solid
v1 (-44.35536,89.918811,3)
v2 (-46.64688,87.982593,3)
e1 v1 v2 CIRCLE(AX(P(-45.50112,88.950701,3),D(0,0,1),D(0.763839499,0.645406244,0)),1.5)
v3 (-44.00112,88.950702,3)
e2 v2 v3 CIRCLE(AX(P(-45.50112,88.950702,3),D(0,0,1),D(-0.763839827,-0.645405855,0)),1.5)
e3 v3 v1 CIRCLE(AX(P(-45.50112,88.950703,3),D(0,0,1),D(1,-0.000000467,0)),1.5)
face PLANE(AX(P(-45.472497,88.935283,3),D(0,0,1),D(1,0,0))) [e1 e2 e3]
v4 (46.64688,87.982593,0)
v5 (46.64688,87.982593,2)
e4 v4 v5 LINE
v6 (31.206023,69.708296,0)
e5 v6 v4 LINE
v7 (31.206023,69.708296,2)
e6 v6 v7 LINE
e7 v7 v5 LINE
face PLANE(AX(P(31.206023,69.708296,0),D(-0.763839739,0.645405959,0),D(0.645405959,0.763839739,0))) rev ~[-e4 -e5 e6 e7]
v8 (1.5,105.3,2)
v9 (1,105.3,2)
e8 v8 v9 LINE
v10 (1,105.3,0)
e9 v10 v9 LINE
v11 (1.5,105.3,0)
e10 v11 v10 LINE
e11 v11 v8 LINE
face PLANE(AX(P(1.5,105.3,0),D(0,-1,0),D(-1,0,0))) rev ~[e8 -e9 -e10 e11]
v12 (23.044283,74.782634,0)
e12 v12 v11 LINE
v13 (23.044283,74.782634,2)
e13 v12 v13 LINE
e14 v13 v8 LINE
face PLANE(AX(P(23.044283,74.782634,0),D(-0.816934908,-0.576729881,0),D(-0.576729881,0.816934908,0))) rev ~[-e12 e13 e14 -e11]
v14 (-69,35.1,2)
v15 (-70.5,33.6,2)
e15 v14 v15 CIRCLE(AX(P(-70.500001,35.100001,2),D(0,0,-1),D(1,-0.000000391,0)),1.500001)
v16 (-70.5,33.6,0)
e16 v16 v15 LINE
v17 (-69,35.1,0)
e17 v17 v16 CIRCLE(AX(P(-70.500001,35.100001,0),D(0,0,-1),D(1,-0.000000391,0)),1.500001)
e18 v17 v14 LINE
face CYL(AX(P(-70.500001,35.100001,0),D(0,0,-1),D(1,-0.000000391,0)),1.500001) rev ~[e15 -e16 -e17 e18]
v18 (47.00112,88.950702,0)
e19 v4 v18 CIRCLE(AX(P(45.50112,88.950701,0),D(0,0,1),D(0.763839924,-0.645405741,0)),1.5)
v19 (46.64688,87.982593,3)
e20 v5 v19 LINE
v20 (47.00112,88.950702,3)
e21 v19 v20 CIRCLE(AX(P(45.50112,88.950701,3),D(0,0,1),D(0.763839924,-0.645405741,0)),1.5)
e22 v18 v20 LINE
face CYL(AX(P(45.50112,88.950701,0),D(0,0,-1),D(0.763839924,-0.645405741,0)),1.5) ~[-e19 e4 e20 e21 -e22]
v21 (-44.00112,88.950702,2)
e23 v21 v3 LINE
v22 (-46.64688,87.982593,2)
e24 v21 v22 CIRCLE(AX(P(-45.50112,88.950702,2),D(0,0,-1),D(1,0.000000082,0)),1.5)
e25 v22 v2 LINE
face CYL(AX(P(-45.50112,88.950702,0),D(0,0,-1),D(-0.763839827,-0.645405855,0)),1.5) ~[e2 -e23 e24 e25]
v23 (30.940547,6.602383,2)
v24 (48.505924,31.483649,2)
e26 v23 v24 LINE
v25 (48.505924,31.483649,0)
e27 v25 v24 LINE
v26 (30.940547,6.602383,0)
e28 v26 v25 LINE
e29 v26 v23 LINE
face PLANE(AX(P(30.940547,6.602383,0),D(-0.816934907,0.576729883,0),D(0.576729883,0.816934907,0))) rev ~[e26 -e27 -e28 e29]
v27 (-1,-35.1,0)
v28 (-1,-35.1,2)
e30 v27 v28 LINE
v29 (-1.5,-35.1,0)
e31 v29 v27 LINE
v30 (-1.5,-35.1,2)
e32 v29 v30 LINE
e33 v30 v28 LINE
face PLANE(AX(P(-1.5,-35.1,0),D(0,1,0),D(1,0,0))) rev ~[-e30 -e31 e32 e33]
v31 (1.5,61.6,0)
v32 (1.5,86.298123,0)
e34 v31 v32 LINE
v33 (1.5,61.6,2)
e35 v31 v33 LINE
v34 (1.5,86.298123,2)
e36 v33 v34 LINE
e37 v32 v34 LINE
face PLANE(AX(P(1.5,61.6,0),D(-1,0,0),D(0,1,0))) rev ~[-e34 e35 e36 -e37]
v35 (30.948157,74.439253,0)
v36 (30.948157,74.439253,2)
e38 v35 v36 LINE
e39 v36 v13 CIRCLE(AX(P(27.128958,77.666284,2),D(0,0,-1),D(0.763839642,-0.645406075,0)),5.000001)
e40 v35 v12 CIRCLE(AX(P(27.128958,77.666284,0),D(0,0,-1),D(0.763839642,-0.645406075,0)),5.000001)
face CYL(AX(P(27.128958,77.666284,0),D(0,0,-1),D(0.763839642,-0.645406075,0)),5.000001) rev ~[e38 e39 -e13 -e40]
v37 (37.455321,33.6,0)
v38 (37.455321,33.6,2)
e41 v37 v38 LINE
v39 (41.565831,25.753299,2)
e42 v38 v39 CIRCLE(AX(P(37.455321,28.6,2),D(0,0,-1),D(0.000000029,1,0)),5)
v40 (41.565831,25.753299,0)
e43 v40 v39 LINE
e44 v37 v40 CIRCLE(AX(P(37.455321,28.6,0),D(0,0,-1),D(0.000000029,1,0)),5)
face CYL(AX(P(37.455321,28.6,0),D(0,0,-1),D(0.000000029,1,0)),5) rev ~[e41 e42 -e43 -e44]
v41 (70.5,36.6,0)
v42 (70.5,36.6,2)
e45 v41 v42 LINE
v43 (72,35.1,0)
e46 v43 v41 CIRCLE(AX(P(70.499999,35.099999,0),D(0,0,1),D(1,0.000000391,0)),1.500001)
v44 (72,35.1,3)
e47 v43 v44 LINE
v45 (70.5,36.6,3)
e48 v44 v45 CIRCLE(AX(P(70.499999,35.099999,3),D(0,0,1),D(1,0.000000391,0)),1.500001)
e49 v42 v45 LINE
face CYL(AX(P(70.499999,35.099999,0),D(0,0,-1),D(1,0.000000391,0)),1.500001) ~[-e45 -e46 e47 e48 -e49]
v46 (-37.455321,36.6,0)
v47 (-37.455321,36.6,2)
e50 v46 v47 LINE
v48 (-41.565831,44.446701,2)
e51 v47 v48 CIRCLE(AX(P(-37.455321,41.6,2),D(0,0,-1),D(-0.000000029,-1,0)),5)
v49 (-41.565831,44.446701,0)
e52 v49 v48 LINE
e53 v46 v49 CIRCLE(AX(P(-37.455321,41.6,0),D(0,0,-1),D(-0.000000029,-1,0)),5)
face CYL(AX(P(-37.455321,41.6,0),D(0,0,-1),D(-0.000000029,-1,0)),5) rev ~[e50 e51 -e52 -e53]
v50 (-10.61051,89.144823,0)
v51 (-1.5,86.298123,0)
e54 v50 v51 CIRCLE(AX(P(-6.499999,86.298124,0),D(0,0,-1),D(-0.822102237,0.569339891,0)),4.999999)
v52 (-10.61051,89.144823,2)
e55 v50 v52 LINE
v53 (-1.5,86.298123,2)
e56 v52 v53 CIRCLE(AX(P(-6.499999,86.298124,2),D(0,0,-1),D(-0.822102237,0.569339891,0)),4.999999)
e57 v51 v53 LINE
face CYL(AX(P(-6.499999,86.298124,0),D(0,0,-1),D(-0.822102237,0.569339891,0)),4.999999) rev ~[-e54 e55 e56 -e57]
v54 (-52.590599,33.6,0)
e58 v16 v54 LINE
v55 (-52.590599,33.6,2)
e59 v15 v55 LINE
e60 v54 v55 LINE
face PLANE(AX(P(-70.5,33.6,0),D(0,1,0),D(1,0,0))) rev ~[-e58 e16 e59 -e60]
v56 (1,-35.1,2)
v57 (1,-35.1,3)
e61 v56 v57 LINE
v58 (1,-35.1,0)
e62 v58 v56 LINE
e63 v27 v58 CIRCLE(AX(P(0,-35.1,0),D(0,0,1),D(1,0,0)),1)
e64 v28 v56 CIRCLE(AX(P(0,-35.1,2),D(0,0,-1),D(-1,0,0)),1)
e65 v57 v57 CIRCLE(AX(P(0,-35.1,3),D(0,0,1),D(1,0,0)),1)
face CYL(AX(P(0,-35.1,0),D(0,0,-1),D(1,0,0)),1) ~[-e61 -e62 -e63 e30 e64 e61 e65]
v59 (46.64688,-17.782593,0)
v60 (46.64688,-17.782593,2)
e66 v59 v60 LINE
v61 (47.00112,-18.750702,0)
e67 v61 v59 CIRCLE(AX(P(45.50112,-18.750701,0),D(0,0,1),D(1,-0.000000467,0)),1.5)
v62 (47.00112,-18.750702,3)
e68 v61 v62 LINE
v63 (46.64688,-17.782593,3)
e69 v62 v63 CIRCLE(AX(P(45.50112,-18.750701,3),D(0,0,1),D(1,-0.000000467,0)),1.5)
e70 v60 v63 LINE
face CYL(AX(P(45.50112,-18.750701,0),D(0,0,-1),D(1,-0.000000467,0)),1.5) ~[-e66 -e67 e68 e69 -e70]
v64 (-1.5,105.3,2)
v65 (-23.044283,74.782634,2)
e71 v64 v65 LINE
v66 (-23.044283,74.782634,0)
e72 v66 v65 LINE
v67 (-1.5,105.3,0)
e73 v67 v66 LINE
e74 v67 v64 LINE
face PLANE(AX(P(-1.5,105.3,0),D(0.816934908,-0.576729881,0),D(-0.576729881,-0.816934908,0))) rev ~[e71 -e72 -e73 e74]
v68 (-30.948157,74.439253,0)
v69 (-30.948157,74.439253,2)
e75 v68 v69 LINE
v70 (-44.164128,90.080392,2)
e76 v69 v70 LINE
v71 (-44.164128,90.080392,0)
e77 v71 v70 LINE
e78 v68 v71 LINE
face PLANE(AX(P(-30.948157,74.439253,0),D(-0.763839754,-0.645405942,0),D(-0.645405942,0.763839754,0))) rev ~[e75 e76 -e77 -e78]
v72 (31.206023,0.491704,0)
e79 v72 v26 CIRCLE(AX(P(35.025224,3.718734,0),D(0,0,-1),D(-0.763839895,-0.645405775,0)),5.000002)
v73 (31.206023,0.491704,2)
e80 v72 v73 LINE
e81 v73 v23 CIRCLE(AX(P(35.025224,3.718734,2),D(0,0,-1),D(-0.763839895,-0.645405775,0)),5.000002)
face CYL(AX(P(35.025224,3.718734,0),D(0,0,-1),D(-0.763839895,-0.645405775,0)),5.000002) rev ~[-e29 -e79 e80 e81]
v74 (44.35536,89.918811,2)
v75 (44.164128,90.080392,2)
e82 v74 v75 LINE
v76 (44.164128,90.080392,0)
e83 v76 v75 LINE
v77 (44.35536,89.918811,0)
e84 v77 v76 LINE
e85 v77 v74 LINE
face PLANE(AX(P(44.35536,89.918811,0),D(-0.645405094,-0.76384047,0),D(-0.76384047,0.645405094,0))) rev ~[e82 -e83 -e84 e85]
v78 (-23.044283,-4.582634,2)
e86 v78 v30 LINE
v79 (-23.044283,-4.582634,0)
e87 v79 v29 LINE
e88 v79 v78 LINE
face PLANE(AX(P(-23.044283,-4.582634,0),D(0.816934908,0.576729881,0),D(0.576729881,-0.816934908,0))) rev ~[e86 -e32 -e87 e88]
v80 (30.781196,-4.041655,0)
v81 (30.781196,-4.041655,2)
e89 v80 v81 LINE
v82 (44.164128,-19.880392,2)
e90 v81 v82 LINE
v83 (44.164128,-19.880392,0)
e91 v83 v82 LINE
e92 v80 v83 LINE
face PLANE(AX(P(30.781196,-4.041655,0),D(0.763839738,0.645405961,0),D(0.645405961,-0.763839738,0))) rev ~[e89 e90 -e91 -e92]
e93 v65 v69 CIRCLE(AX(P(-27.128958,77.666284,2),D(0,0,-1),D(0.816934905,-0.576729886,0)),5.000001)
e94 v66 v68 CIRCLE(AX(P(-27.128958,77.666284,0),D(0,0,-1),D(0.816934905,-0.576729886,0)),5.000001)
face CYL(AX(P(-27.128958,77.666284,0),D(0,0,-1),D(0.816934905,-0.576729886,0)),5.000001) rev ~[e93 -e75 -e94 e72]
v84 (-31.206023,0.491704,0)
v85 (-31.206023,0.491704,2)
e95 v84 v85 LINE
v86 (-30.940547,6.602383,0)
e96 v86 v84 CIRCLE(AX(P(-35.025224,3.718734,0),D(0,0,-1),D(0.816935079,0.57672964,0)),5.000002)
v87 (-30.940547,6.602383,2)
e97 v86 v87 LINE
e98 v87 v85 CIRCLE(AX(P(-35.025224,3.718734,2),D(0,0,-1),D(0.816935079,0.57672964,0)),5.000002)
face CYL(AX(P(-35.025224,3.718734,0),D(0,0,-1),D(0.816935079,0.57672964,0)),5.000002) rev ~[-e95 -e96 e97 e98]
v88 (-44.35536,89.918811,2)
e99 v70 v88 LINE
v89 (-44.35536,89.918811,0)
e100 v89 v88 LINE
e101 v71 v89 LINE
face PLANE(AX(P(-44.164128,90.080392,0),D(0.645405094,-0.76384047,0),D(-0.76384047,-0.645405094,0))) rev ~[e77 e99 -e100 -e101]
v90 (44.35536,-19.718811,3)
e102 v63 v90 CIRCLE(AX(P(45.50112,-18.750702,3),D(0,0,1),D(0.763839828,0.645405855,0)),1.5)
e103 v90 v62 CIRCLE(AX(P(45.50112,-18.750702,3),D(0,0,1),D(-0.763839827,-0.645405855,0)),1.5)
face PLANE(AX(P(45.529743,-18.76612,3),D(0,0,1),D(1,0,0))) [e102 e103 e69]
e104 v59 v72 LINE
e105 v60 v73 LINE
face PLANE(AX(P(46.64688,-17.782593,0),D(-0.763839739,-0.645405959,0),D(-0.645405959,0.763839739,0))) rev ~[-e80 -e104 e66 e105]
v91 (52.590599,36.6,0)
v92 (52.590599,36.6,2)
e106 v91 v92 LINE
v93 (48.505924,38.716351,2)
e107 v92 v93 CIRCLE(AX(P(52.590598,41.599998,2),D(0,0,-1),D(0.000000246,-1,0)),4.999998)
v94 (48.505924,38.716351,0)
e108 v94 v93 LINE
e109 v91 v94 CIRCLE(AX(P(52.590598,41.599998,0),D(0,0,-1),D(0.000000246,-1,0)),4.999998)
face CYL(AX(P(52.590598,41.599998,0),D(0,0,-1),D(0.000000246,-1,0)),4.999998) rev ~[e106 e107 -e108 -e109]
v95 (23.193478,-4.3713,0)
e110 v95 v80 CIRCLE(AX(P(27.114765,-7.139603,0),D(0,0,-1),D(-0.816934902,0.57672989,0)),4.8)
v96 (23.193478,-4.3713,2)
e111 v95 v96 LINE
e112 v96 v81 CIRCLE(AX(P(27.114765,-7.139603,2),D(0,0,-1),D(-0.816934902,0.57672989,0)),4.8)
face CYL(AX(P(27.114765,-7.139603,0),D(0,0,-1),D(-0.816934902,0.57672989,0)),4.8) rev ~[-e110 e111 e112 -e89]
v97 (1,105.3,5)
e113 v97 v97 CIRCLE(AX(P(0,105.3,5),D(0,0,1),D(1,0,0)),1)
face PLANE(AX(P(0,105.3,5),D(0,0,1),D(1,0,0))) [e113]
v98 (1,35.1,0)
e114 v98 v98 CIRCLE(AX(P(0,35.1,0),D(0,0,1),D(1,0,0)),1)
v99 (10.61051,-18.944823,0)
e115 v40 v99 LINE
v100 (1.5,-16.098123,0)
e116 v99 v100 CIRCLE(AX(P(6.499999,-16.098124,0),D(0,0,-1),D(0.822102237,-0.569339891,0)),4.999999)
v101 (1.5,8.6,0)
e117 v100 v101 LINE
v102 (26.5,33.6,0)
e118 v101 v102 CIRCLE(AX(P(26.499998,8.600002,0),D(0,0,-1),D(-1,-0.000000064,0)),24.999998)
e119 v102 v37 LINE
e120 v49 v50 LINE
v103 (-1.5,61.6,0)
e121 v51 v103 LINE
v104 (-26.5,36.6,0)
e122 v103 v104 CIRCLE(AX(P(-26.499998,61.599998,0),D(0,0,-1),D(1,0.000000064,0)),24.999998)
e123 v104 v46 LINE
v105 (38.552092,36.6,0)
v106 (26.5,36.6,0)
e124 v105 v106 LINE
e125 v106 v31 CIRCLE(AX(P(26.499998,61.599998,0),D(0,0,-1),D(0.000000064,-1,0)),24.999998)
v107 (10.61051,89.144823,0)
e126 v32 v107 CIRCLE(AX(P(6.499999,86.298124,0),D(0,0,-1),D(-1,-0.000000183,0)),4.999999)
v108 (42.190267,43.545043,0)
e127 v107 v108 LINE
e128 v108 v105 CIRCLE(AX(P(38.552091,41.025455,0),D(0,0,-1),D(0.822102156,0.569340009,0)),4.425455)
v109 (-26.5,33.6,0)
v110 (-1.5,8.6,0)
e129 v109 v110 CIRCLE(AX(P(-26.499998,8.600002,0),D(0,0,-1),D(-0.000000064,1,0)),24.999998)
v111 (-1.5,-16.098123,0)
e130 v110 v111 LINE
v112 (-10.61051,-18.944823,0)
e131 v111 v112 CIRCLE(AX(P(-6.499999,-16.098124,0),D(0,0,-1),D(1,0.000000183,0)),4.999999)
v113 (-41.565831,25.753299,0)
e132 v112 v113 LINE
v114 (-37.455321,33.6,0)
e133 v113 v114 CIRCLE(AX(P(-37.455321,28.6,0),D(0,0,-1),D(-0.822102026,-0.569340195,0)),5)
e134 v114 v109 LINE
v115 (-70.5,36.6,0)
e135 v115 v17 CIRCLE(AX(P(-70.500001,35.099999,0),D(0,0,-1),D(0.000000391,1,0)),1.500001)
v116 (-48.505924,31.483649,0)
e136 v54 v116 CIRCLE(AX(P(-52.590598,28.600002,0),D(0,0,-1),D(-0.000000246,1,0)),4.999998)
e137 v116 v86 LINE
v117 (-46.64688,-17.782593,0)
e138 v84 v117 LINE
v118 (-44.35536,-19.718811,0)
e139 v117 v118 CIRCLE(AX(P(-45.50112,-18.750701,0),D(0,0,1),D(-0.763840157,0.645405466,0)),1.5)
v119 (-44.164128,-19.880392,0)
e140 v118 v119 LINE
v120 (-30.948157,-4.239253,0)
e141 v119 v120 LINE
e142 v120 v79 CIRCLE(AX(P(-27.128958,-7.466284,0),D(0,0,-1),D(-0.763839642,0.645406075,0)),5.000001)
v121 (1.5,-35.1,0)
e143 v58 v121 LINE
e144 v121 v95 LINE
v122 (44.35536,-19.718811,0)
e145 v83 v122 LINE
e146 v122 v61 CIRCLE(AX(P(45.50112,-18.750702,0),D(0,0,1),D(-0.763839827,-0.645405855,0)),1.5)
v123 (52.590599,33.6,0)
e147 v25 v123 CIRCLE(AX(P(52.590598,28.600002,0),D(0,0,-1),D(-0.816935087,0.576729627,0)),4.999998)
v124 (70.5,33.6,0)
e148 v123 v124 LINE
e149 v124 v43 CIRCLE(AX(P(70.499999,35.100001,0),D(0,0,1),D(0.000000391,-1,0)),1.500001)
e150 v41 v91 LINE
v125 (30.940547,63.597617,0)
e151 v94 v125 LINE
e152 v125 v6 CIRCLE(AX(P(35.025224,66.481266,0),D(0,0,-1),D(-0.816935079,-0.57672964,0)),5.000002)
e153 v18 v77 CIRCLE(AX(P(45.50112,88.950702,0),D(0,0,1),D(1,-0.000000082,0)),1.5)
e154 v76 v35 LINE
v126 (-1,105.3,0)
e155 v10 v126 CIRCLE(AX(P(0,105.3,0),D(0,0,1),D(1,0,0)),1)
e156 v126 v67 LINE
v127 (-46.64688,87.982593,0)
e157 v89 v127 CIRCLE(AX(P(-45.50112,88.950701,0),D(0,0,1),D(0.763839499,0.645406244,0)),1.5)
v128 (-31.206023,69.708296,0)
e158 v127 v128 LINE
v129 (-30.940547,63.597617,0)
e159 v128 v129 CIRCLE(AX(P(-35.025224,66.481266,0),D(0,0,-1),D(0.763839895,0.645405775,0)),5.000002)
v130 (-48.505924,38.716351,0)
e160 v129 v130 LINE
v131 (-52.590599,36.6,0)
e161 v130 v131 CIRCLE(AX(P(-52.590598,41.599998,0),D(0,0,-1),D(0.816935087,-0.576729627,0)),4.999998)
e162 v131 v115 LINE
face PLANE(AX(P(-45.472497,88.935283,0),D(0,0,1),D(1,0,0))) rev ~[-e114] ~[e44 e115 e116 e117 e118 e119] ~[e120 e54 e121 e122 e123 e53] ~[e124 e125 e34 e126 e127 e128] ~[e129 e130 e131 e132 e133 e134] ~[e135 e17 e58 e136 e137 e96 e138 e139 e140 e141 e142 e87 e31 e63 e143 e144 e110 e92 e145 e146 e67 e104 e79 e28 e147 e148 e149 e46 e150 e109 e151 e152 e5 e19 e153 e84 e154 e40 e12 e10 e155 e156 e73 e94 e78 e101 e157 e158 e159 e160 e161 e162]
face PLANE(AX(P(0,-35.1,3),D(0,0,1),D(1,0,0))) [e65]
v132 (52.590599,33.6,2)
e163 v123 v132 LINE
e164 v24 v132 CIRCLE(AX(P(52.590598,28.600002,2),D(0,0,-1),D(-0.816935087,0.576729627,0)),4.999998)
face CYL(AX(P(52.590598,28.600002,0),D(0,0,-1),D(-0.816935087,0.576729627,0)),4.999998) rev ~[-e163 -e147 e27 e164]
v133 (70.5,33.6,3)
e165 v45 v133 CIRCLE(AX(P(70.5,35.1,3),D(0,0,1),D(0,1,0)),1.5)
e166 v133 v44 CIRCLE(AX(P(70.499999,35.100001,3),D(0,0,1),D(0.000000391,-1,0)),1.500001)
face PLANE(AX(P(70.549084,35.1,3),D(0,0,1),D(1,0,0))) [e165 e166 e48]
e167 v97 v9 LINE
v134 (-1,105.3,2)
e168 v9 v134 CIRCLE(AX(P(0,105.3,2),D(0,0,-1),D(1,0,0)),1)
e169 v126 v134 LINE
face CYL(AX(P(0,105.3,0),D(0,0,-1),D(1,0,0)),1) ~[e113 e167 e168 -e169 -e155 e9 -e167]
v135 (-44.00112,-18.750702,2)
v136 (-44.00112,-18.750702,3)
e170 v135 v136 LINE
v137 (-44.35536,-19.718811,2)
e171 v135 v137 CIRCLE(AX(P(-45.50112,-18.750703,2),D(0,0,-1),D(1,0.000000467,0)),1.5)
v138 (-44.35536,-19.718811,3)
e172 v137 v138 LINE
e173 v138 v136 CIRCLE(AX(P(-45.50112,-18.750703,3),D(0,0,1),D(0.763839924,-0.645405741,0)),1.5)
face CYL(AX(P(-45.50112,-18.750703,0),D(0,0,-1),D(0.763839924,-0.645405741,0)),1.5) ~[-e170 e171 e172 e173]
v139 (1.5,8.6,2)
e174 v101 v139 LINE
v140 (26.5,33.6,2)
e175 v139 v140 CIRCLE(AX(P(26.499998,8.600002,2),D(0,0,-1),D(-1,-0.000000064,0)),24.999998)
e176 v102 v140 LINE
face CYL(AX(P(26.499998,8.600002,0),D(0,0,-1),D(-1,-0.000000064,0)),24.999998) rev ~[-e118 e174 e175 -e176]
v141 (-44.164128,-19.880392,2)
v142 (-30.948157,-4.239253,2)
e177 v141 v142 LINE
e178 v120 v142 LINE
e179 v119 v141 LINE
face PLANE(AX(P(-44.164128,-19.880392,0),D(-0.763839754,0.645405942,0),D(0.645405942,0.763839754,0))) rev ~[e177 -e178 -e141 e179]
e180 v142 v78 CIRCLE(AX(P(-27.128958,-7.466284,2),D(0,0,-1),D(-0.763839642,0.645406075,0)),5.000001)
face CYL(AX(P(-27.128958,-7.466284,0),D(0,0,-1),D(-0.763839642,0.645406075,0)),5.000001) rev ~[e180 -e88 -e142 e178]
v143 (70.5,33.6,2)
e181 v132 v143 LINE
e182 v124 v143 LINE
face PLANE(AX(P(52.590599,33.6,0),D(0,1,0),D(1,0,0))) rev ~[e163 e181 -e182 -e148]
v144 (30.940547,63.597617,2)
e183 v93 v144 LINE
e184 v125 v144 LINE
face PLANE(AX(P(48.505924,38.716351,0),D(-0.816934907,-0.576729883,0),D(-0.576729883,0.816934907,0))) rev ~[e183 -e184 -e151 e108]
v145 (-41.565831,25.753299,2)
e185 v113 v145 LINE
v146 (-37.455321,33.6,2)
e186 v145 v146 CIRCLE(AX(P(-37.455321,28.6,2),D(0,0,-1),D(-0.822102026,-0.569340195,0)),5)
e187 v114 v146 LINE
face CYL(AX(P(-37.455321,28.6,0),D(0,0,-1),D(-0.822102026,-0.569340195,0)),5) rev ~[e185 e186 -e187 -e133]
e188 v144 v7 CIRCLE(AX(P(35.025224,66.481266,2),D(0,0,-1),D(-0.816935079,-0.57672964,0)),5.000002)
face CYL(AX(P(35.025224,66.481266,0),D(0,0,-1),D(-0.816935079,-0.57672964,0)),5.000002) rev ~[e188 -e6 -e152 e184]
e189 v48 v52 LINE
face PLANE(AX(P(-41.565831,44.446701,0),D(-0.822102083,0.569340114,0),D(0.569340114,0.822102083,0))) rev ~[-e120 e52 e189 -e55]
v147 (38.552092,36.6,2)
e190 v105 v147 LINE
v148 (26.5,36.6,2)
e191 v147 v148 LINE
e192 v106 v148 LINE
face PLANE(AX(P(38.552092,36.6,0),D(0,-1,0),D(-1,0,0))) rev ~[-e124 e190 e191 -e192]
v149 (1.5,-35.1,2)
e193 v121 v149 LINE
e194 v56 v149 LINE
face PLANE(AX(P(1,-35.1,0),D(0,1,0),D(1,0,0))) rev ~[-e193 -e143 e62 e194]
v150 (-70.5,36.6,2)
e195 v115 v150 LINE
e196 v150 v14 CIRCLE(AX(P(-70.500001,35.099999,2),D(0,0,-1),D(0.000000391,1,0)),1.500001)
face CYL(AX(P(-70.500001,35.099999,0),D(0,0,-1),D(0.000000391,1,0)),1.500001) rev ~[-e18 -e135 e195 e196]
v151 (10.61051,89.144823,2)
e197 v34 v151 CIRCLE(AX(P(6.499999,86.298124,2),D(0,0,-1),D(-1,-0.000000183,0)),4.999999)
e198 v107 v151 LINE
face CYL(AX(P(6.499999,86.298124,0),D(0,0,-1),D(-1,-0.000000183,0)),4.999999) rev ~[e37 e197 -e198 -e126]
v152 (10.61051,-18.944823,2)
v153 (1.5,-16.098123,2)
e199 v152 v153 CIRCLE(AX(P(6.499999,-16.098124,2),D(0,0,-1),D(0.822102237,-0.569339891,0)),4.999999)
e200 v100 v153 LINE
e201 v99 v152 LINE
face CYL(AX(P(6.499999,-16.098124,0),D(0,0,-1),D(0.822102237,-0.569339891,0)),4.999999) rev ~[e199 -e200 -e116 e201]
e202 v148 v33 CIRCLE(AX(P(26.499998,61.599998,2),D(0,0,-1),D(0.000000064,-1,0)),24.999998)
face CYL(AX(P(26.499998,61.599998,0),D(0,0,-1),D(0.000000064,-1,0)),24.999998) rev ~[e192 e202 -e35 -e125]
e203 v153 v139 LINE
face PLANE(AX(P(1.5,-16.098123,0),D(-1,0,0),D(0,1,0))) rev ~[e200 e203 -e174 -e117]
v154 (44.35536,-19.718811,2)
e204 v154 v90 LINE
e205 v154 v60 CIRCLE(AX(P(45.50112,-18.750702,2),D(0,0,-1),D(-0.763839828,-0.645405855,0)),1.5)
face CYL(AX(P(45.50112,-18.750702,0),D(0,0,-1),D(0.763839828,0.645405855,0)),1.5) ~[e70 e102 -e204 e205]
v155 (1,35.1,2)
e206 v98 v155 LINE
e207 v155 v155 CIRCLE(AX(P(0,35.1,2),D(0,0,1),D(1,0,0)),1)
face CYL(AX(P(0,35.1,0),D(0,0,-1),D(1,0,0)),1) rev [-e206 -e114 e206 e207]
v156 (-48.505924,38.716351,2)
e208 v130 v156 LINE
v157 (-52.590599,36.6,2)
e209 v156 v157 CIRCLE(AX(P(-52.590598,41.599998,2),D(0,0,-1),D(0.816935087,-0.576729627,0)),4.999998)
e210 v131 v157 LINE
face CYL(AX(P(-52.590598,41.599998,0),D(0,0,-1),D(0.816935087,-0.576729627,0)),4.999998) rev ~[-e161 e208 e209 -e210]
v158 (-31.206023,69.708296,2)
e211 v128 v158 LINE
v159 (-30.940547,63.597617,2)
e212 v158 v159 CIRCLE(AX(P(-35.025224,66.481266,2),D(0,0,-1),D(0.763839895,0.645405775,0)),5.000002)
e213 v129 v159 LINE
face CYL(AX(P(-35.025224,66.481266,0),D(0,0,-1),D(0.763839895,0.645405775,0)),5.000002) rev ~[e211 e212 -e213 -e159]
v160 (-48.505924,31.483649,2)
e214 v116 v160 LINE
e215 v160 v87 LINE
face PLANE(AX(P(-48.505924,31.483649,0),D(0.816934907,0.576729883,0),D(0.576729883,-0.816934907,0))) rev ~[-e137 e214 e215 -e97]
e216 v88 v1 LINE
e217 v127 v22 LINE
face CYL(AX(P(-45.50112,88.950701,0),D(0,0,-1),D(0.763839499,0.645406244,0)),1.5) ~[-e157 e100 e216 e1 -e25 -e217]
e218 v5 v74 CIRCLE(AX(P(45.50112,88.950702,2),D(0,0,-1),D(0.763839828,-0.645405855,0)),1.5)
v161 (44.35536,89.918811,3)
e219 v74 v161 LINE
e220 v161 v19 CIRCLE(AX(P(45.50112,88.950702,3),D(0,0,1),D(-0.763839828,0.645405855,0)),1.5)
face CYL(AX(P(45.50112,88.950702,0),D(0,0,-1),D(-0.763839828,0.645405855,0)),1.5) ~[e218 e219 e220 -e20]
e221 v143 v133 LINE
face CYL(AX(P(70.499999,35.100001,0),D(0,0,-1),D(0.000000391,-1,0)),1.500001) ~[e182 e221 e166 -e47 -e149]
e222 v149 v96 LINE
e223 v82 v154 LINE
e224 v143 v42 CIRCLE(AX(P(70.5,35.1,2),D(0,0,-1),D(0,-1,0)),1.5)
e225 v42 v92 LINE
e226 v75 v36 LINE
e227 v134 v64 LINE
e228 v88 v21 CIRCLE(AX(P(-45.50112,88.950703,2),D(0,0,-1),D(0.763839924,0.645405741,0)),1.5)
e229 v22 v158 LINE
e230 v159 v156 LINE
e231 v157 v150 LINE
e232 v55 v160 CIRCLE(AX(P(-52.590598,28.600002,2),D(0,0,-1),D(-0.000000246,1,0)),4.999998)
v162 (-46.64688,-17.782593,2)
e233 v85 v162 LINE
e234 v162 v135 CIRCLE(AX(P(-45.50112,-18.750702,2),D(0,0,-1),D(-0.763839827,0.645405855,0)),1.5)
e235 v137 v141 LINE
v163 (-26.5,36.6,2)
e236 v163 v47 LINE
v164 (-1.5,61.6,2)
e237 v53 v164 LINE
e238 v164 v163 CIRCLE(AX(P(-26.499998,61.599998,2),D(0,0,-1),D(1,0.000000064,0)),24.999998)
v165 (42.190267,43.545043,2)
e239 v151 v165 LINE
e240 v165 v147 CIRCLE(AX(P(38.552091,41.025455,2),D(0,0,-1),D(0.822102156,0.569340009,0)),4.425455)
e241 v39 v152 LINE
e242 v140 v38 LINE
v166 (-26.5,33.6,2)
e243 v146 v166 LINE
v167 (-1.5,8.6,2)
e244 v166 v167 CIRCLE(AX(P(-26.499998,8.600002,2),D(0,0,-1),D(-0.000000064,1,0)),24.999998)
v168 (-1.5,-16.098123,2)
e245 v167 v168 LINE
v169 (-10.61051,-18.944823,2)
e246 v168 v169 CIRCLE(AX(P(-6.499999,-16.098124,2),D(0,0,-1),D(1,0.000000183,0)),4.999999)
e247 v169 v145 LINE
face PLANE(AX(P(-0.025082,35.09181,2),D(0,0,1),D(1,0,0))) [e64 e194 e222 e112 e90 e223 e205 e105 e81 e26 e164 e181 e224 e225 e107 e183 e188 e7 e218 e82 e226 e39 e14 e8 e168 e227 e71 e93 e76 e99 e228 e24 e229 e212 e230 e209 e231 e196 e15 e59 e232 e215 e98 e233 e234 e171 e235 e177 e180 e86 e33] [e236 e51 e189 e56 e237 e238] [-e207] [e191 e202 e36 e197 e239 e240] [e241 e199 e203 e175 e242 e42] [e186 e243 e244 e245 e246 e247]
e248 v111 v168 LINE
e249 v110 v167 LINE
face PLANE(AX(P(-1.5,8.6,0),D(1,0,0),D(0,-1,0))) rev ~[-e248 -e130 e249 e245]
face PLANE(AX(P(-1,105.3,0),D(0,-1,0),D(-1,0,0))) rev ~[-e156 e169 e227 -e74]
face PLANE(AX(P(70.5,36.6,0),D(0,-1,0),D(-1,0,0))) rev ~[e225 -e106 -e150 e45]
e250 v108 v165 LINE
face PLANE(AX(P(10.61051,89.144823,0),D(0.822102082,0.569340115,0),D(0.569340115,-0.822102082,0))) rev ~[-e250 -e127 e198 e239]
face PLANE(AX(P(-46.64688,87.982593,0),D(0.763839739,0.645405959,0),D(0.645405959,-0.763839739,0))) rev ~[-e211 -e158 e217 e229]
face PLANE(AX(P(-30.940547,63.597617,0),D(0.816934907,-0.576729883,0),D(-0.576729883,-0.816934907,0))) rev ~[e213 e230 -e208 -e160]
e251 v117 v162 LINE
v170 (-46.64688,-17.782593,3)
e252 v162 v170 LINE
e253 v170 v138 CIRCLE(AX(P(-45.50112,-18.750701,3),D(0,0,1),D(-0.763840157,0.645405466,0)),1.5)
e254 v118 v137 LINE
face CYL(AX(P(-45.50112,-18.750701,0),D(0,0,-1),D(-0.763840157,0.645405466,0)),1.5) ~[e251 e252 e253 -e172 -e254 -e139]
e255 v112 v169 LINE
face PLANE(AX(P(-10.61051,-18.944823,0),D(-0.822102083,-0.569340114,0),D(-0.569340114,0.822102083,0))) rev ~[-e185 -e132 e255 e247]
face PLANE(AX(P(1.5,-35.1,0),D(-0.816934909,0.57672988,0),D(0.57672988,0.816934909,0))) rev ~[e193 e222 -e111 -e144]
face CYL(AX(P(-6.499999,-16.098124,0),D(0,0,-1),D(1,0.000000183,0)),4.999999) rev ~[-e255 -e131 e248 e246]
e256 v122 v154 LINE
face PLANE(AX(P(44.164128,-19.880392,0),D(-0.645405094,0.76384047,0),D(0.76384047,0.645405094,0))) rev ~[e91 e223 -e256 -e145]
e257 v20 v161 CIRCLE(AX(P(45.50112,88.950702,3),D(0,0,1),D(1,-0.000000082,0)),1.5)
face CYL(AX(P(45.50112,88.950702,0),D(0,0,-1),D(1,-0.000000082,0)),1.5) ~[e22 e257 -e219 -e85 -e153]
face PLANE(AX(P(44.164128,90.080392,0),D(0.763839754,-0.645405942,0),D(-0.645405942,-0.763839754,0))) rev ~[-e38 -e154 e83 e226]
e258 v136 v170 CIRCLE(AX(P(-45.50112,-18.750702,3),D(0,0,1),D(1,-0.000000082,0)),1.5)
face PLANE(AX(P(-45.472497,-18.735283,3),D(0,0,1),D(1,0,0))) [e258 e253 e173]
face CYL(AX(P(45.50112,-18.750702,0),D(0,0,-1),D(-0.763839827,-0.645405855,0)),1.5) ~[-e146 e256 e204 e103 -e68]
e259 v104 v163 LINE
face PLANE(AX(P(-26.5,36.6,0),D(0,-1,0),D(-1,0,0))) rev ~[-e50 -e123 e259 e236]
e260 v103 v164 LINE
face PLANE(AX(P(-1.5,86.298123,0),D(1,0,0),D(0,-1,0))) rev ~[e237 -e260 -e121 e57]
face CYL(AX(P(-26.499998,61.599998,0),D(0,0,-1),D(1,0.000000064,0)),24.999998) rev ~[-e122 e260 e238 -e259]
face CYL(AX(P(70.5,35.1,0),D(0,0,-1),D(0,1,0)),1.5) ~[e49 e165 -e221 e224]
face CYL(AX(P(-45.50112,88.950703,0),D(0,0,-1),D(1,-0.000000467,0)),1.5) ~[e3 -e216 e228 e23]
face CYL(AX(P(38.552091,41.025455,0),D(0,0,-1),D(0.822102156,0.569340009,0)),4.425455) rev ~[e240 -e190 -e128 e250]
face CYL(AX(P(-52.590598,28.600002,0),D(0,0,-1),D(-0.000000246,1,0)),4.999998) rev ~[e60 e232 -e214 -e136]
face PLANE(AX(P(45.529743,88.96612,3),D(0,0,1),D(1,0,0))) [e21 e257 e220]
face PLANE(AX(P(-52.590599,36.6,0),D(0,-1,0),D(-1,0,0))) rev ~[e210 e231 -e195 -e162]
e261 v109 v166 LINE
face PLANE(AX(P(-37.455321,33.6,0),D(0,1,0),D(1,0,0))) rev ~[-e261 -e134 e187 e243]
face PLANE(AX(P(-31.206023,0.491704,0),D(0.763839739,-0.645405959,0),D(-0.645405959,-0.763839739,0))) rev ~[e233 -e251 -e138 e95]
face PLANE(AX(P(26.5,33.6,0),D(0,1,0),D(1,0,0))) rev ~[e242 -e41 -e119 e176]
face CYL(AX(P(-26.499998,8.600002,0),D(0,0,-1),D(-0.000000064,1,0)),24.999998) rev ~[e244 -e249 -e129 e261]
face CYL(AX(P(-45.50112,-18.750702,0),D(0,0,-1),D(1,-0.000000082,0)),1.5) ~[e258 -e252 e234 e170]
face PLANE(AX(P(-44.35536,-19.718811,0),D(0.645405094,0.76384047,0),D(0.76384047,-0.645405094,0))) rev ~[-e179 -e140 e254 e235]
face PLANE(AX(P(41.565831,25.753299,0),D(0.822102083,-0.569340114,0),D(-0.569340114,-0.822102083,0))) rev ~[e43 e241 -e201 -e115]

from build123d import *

# Parameters (mm, degrees)
F0_R     = 1
F1_DEPTH = 2
F2_DEPTH = 3
F3_DEPTH = 5


with BuildPart() as f1:
    # F0 (on Top) → F1 (new body)
    with BuildSketch(Plane.XY):
        with BuildLine():
            Line((1, -35.1), (1.5, -35.1))
            Line((1.5, -35.1), (23.193478, -4.3713))
            ThreePointArc((23.193478, -4.3713), (26.906428, -2.344127), (30.781196, -4.041655))
            Line((30.781196, -4.041655), (44.164128, -19.880392))
            Line((44.164128, -19.880392), (44.35536, -19.718811))
            ThreePointArc((44.35536, -19.718811), (44.533011, -17.604942), (46.64688, -17.782593))
            Line((46.64688, -17.782593), (31.206023, 0.491704))
            ThreePointArc((31.206023, 0.491704), (30.029934, 3.501716), (30.940547, 6.602383))
            Line((30.940547, 6.602383), (48.505924, 31.483649))
            ThreePointArc((48.505924, 31.483649), (50.290408, 33.039496), (52.590599, 33.6))
            Line((52.590599, 33.6), (70.5, 33.6))
            ThreePointArc((70.5, 33.6), (69, 35.1), (70.5, 36.6))
            Line((70.5, 36.6), (52.590599, 36.6))
            ThreePointArc((52.590599, 36.6), (50.290408, 37.160504), (48.505924, 38.716351))
            Line((48.505924, 38.716351), (30.940547, 63.597617))
            ThreePointArc((30.940547, 63.597617), (30.029934, 66.698284), (31.206023, 69.708296))
            Line((31.206023, 69.708296), (46.64688, 87.982593))
            ThreePointArc((46.64688, 87.982593), (44.533011, 87.804942), (44.35536, 89.918811))
            Line((44.35536, 89.918811), (44.164128, 90.080392))
            Line((44.164128, 90.080392), (30.948157, 74.439253))
            ThreePointArc((30.948157, 74.439253), (26.91194, 72.670995), (23.044283, 74.782634))
            Line((23.044283, 74.782634), (1.5, 105.3))
            Line((1.5, 105.3), (1, 105.3))
            ThreePointArc((1, 105.3), (0, 104.3), (-1, 105.3))
            Line((-1, 105.3), (-1.5, 105.3))
            Line((-1.5, 105.3), (-23.044283, 74.782634))
            ThreePointArc((-23.044283, 74.782634), (-26.91194, 72.670995), (-30.948157, 74.439253))
            Line((-30.948157, 74.439253), (-44.164128, 90.080392))
            Line((-44.164128, 90.080392), (-44.35536, 89.918811))
            ThreePointArc((-44.35536, 89.918811), (-44.092461, 89.466144), (-44.00112, 88.950702))
            ThreePointArc((-44.00112, 88.950702), (-44.985678, 87.542043), (-46.64688, 87.982593))
            Line((-46.64688, 87.982593), (-31.206023, 69.708296))
            ThreePointArc((-31.206023, 69.708296), (-30.029934, 66.698284), (-30.940547, 63.597617))
            Line((-30.940547, 63.597617), (-48.505924, 38.716351))
            ThreePointArc((-48.505924, 38.716351), (-50.290408, 37.160504), (-52.590599, 36.6))
            Line((-52.590599, 36.6), (-70.5, 36.6))
            ThreePointArc((-70.5, 36.6), (-69.43934, 36.16066), (-69, 35.1))
            ThreePointArc((-69, 35.1), (-69.43934, 34.03934), (-70.5, 33.6))
            Line((-70.5, 33.6), (-52.590599, 33.6))
            ThreePointArc((-52.590599, 33.6), (-50.290408, 33.039496), (-48.505924, 31.483649))
            Line((-48.505924, 31.483649), (-30.940547, 6.602383))
            ThreePointArc((-30.940547, 6.602383), (-30.029934, 3.501716), (-31.206023, 0.491704))
            Line((-31.206023, 0.491704), (-46.64688, -17.782593))
            ThreePointArc((-46.64688, -17.782593), (-44.985678, -17.342043), (-44.00112, -18.750702))
            ThreePointArc((-44.00112, -18.750702), (-44.092461, -19.266144), (-44.35536, -19.718811))
            Line((-44.35536, -19.718811), (-44.164128, -19.880392))
            Line((-44.164128, -19.880392), (-30.948157, -4.239253))
            ThreePointArc((-30.948157, -4.239253), (-26.91194, -2.470995), (-23.044283, -4.582634))
            Line((-23.044283, -4.582634), (-1.5, -35.1))
            Line((-1.5, -35.1), (-1, -35.1))
            ThreePointArc((-1, -35.1), (0, -34.1), (1, -35.1))
        make_face()
        with BuildLine():
            ThreePointArc((-26.5, 33.6), (-8.82233, 26.27767), (-1.5, 8.6))
            Line((-1.5, 8.6), (-1.5, -16.098123))
            ThreePointArc((-1.5, -16.098123), (-5.008784, -20.870573), (-10.61051, -18.944823))
            Line((-10.61051, -18.944823), (-41.565831, 25.753299))
            ThreePointArc((-41.565831, 25.753299), (-41.884401, 30.920183), (-37.455321, 33.6))
            Line((-37.455321, 33.6), (-26.5, 33.6))
        make_face(mode=Mode.SUBTRACT)
        with BuildLine():
            Line((1.5, -16.098123), (1.5, 8.6))
            ThreePointArc((1.5, 8.6), (8.82233, 26.27767), (26.5, 33.6))
            Line((26.5, 33.6), (37.455321, 33.6))
            ThreePointArc((37.455321, 33.6), (41.884401, 30.920183), (41.565831, 25.753299))
            Line((41.565831, 25.753299), (10.61051, -18.944823))
            ThreePointArc((10.61051, -18.944823), (5.008784, -20.870573), (1.5, -16.098123))
        make_face(mode=Mode.SUBTRACT)
        with BuildLine():
            Line((-1.5, 86.298123), (-1.5, 61.6))
            ThreePointArc((-1.5, 61.6), (-8.82233, 43.92233), (-26.5, 36.6))
            Line((-26.5, 36.6), (-37.455321, 36.6))
            ThreePointArc((-37.455321, 36.6), (-41.884401, 39.279817), (-41.565831, 44.446701))
            Line((-41.565831, 44.446701), (-10.61051, 89.144823))
            ThreePointArc((-10.61051, 89.144823), (-5.008784, 91.070573), (-1.5, 86.298123))
        make_face(mode=Mode.SUBTRACT)
        with Locations((0, 35.1)):
            Circle(F0_R, mode=Mode.SUBTRACT)
        with BuildLine():
            ThreePointArc((26.5, 36.6), (8.82233, 43.92233), (1.5, 61.6))
            Line((1.5, 61.6), (1.5, 86.298123))
            ThreePointArc((1.5, 86.298123), (5.008784, 91.070573), (10.61051, 89.144823))
            Line((10.61051, 89.144823), (42.190267, 43.545043))
            ThreePointArc((42.190267, 43.545043), (42.47223, 38.971882), (38.552092, 36.6))
            Line((38.552092, 36.6), (26.5, 36.6))
        make_face(mode=Mode.SUBTRACT)
    extrude(amount=F1_DEPTH)

    # F0 (on Top) → F2 (join)
    with BuildSketch(Plane.XY):
        with BuildLine():
            ThreePointArc((-44.35536, 89.918811), (-46.469229, 90.096461), (-46.64688, 87.982593))
            ThreePointArc((-46.64688, 87.982593), (-44.985678, 87.542043), (-44.00112, 88.950702))
            ThreePointArc((-44.00112, 88.950702), (-44.092461, 89.466144), (-44.35536, 89.918811))
        make_face()
        with BuildLine():
            ThreePointArc((-1, 105.3), (0, 104.3), (1, 105.3))
            ThreePointArc((1, 105.3), (0, 106.3), (-1, 105.3))
        make_face()
        with BuildLine():
            ThreePointArc((44.35536, 89.918811), (44.533011, 87.804942), (46.64688, 87.982593))
            ThreePointArc((46.64688, 87.982593), (46.909779, 88.43526), (47.00112, 88.950702))
            ThreePointArc((47.00112, 88.950702), (46.016562, 90.359361), (44.35536, 89.918811))
        make_face()
        with BuildLine():
            ThreePointArc((70.5, 36.6), (69, 35.1), (70.5, 33.6))
            ThreePointArc((70.5, 33.6), (71.56066, 34.03934), (72, 35.1))
            ThreePointArc((72, 35.1), (71.56066, 36.16066), (70.5, 36.6))
        make_face()
        with BuildLine():
            ThreePointArc((46.64688, -17.782593), (44.533011, -17.604942), (44.35536, -19.718811))
            ThreePointArc((44.35536, -19.718811), (46.016562, -20.159361), (47.00112, -18.750702))
            ThreePointArc((47.00112, -18.750702), (46.909779, -18.23526), (46.64688, -17.782593))
        make_face()
        with BuildLine():
            ThreePointArc((-1, -35.1), (0, -36.1), (1, -35.1))
            ThreePointArc((1, -35.1), (0, -34.1), (-1, -35.1))
        make_face()
        with BuildLine():
            ThreePointArc((-46.64688, -17.782593), (-46.469229, -19.896461), (-44.35536, -19.718811))
            ThreePointArc((-44.35536, -19.718811), (-44.092461, -19.266144), (-44.00112, -18.750702))
            ThreePointArc((-44.00112, -18.750702), (-44.985678, -17.342043), (-46.64688, -17.782593))
        make_face()
    extrude(amount=F2_DEPTH)

    # F0 (on Top) → F3 (join)
    with BuildSketch(Plane.XY):
        with BuildLine():
            ThreePointArc((-1, 105.3), (0, 104.3), (1, 105.3))
            ThreePointArc((1, 105.3), (0, 106.3), (-1, 105.3))
        make_face()
    extrude(amount=F3_DEPTH)


solid = f1.part
